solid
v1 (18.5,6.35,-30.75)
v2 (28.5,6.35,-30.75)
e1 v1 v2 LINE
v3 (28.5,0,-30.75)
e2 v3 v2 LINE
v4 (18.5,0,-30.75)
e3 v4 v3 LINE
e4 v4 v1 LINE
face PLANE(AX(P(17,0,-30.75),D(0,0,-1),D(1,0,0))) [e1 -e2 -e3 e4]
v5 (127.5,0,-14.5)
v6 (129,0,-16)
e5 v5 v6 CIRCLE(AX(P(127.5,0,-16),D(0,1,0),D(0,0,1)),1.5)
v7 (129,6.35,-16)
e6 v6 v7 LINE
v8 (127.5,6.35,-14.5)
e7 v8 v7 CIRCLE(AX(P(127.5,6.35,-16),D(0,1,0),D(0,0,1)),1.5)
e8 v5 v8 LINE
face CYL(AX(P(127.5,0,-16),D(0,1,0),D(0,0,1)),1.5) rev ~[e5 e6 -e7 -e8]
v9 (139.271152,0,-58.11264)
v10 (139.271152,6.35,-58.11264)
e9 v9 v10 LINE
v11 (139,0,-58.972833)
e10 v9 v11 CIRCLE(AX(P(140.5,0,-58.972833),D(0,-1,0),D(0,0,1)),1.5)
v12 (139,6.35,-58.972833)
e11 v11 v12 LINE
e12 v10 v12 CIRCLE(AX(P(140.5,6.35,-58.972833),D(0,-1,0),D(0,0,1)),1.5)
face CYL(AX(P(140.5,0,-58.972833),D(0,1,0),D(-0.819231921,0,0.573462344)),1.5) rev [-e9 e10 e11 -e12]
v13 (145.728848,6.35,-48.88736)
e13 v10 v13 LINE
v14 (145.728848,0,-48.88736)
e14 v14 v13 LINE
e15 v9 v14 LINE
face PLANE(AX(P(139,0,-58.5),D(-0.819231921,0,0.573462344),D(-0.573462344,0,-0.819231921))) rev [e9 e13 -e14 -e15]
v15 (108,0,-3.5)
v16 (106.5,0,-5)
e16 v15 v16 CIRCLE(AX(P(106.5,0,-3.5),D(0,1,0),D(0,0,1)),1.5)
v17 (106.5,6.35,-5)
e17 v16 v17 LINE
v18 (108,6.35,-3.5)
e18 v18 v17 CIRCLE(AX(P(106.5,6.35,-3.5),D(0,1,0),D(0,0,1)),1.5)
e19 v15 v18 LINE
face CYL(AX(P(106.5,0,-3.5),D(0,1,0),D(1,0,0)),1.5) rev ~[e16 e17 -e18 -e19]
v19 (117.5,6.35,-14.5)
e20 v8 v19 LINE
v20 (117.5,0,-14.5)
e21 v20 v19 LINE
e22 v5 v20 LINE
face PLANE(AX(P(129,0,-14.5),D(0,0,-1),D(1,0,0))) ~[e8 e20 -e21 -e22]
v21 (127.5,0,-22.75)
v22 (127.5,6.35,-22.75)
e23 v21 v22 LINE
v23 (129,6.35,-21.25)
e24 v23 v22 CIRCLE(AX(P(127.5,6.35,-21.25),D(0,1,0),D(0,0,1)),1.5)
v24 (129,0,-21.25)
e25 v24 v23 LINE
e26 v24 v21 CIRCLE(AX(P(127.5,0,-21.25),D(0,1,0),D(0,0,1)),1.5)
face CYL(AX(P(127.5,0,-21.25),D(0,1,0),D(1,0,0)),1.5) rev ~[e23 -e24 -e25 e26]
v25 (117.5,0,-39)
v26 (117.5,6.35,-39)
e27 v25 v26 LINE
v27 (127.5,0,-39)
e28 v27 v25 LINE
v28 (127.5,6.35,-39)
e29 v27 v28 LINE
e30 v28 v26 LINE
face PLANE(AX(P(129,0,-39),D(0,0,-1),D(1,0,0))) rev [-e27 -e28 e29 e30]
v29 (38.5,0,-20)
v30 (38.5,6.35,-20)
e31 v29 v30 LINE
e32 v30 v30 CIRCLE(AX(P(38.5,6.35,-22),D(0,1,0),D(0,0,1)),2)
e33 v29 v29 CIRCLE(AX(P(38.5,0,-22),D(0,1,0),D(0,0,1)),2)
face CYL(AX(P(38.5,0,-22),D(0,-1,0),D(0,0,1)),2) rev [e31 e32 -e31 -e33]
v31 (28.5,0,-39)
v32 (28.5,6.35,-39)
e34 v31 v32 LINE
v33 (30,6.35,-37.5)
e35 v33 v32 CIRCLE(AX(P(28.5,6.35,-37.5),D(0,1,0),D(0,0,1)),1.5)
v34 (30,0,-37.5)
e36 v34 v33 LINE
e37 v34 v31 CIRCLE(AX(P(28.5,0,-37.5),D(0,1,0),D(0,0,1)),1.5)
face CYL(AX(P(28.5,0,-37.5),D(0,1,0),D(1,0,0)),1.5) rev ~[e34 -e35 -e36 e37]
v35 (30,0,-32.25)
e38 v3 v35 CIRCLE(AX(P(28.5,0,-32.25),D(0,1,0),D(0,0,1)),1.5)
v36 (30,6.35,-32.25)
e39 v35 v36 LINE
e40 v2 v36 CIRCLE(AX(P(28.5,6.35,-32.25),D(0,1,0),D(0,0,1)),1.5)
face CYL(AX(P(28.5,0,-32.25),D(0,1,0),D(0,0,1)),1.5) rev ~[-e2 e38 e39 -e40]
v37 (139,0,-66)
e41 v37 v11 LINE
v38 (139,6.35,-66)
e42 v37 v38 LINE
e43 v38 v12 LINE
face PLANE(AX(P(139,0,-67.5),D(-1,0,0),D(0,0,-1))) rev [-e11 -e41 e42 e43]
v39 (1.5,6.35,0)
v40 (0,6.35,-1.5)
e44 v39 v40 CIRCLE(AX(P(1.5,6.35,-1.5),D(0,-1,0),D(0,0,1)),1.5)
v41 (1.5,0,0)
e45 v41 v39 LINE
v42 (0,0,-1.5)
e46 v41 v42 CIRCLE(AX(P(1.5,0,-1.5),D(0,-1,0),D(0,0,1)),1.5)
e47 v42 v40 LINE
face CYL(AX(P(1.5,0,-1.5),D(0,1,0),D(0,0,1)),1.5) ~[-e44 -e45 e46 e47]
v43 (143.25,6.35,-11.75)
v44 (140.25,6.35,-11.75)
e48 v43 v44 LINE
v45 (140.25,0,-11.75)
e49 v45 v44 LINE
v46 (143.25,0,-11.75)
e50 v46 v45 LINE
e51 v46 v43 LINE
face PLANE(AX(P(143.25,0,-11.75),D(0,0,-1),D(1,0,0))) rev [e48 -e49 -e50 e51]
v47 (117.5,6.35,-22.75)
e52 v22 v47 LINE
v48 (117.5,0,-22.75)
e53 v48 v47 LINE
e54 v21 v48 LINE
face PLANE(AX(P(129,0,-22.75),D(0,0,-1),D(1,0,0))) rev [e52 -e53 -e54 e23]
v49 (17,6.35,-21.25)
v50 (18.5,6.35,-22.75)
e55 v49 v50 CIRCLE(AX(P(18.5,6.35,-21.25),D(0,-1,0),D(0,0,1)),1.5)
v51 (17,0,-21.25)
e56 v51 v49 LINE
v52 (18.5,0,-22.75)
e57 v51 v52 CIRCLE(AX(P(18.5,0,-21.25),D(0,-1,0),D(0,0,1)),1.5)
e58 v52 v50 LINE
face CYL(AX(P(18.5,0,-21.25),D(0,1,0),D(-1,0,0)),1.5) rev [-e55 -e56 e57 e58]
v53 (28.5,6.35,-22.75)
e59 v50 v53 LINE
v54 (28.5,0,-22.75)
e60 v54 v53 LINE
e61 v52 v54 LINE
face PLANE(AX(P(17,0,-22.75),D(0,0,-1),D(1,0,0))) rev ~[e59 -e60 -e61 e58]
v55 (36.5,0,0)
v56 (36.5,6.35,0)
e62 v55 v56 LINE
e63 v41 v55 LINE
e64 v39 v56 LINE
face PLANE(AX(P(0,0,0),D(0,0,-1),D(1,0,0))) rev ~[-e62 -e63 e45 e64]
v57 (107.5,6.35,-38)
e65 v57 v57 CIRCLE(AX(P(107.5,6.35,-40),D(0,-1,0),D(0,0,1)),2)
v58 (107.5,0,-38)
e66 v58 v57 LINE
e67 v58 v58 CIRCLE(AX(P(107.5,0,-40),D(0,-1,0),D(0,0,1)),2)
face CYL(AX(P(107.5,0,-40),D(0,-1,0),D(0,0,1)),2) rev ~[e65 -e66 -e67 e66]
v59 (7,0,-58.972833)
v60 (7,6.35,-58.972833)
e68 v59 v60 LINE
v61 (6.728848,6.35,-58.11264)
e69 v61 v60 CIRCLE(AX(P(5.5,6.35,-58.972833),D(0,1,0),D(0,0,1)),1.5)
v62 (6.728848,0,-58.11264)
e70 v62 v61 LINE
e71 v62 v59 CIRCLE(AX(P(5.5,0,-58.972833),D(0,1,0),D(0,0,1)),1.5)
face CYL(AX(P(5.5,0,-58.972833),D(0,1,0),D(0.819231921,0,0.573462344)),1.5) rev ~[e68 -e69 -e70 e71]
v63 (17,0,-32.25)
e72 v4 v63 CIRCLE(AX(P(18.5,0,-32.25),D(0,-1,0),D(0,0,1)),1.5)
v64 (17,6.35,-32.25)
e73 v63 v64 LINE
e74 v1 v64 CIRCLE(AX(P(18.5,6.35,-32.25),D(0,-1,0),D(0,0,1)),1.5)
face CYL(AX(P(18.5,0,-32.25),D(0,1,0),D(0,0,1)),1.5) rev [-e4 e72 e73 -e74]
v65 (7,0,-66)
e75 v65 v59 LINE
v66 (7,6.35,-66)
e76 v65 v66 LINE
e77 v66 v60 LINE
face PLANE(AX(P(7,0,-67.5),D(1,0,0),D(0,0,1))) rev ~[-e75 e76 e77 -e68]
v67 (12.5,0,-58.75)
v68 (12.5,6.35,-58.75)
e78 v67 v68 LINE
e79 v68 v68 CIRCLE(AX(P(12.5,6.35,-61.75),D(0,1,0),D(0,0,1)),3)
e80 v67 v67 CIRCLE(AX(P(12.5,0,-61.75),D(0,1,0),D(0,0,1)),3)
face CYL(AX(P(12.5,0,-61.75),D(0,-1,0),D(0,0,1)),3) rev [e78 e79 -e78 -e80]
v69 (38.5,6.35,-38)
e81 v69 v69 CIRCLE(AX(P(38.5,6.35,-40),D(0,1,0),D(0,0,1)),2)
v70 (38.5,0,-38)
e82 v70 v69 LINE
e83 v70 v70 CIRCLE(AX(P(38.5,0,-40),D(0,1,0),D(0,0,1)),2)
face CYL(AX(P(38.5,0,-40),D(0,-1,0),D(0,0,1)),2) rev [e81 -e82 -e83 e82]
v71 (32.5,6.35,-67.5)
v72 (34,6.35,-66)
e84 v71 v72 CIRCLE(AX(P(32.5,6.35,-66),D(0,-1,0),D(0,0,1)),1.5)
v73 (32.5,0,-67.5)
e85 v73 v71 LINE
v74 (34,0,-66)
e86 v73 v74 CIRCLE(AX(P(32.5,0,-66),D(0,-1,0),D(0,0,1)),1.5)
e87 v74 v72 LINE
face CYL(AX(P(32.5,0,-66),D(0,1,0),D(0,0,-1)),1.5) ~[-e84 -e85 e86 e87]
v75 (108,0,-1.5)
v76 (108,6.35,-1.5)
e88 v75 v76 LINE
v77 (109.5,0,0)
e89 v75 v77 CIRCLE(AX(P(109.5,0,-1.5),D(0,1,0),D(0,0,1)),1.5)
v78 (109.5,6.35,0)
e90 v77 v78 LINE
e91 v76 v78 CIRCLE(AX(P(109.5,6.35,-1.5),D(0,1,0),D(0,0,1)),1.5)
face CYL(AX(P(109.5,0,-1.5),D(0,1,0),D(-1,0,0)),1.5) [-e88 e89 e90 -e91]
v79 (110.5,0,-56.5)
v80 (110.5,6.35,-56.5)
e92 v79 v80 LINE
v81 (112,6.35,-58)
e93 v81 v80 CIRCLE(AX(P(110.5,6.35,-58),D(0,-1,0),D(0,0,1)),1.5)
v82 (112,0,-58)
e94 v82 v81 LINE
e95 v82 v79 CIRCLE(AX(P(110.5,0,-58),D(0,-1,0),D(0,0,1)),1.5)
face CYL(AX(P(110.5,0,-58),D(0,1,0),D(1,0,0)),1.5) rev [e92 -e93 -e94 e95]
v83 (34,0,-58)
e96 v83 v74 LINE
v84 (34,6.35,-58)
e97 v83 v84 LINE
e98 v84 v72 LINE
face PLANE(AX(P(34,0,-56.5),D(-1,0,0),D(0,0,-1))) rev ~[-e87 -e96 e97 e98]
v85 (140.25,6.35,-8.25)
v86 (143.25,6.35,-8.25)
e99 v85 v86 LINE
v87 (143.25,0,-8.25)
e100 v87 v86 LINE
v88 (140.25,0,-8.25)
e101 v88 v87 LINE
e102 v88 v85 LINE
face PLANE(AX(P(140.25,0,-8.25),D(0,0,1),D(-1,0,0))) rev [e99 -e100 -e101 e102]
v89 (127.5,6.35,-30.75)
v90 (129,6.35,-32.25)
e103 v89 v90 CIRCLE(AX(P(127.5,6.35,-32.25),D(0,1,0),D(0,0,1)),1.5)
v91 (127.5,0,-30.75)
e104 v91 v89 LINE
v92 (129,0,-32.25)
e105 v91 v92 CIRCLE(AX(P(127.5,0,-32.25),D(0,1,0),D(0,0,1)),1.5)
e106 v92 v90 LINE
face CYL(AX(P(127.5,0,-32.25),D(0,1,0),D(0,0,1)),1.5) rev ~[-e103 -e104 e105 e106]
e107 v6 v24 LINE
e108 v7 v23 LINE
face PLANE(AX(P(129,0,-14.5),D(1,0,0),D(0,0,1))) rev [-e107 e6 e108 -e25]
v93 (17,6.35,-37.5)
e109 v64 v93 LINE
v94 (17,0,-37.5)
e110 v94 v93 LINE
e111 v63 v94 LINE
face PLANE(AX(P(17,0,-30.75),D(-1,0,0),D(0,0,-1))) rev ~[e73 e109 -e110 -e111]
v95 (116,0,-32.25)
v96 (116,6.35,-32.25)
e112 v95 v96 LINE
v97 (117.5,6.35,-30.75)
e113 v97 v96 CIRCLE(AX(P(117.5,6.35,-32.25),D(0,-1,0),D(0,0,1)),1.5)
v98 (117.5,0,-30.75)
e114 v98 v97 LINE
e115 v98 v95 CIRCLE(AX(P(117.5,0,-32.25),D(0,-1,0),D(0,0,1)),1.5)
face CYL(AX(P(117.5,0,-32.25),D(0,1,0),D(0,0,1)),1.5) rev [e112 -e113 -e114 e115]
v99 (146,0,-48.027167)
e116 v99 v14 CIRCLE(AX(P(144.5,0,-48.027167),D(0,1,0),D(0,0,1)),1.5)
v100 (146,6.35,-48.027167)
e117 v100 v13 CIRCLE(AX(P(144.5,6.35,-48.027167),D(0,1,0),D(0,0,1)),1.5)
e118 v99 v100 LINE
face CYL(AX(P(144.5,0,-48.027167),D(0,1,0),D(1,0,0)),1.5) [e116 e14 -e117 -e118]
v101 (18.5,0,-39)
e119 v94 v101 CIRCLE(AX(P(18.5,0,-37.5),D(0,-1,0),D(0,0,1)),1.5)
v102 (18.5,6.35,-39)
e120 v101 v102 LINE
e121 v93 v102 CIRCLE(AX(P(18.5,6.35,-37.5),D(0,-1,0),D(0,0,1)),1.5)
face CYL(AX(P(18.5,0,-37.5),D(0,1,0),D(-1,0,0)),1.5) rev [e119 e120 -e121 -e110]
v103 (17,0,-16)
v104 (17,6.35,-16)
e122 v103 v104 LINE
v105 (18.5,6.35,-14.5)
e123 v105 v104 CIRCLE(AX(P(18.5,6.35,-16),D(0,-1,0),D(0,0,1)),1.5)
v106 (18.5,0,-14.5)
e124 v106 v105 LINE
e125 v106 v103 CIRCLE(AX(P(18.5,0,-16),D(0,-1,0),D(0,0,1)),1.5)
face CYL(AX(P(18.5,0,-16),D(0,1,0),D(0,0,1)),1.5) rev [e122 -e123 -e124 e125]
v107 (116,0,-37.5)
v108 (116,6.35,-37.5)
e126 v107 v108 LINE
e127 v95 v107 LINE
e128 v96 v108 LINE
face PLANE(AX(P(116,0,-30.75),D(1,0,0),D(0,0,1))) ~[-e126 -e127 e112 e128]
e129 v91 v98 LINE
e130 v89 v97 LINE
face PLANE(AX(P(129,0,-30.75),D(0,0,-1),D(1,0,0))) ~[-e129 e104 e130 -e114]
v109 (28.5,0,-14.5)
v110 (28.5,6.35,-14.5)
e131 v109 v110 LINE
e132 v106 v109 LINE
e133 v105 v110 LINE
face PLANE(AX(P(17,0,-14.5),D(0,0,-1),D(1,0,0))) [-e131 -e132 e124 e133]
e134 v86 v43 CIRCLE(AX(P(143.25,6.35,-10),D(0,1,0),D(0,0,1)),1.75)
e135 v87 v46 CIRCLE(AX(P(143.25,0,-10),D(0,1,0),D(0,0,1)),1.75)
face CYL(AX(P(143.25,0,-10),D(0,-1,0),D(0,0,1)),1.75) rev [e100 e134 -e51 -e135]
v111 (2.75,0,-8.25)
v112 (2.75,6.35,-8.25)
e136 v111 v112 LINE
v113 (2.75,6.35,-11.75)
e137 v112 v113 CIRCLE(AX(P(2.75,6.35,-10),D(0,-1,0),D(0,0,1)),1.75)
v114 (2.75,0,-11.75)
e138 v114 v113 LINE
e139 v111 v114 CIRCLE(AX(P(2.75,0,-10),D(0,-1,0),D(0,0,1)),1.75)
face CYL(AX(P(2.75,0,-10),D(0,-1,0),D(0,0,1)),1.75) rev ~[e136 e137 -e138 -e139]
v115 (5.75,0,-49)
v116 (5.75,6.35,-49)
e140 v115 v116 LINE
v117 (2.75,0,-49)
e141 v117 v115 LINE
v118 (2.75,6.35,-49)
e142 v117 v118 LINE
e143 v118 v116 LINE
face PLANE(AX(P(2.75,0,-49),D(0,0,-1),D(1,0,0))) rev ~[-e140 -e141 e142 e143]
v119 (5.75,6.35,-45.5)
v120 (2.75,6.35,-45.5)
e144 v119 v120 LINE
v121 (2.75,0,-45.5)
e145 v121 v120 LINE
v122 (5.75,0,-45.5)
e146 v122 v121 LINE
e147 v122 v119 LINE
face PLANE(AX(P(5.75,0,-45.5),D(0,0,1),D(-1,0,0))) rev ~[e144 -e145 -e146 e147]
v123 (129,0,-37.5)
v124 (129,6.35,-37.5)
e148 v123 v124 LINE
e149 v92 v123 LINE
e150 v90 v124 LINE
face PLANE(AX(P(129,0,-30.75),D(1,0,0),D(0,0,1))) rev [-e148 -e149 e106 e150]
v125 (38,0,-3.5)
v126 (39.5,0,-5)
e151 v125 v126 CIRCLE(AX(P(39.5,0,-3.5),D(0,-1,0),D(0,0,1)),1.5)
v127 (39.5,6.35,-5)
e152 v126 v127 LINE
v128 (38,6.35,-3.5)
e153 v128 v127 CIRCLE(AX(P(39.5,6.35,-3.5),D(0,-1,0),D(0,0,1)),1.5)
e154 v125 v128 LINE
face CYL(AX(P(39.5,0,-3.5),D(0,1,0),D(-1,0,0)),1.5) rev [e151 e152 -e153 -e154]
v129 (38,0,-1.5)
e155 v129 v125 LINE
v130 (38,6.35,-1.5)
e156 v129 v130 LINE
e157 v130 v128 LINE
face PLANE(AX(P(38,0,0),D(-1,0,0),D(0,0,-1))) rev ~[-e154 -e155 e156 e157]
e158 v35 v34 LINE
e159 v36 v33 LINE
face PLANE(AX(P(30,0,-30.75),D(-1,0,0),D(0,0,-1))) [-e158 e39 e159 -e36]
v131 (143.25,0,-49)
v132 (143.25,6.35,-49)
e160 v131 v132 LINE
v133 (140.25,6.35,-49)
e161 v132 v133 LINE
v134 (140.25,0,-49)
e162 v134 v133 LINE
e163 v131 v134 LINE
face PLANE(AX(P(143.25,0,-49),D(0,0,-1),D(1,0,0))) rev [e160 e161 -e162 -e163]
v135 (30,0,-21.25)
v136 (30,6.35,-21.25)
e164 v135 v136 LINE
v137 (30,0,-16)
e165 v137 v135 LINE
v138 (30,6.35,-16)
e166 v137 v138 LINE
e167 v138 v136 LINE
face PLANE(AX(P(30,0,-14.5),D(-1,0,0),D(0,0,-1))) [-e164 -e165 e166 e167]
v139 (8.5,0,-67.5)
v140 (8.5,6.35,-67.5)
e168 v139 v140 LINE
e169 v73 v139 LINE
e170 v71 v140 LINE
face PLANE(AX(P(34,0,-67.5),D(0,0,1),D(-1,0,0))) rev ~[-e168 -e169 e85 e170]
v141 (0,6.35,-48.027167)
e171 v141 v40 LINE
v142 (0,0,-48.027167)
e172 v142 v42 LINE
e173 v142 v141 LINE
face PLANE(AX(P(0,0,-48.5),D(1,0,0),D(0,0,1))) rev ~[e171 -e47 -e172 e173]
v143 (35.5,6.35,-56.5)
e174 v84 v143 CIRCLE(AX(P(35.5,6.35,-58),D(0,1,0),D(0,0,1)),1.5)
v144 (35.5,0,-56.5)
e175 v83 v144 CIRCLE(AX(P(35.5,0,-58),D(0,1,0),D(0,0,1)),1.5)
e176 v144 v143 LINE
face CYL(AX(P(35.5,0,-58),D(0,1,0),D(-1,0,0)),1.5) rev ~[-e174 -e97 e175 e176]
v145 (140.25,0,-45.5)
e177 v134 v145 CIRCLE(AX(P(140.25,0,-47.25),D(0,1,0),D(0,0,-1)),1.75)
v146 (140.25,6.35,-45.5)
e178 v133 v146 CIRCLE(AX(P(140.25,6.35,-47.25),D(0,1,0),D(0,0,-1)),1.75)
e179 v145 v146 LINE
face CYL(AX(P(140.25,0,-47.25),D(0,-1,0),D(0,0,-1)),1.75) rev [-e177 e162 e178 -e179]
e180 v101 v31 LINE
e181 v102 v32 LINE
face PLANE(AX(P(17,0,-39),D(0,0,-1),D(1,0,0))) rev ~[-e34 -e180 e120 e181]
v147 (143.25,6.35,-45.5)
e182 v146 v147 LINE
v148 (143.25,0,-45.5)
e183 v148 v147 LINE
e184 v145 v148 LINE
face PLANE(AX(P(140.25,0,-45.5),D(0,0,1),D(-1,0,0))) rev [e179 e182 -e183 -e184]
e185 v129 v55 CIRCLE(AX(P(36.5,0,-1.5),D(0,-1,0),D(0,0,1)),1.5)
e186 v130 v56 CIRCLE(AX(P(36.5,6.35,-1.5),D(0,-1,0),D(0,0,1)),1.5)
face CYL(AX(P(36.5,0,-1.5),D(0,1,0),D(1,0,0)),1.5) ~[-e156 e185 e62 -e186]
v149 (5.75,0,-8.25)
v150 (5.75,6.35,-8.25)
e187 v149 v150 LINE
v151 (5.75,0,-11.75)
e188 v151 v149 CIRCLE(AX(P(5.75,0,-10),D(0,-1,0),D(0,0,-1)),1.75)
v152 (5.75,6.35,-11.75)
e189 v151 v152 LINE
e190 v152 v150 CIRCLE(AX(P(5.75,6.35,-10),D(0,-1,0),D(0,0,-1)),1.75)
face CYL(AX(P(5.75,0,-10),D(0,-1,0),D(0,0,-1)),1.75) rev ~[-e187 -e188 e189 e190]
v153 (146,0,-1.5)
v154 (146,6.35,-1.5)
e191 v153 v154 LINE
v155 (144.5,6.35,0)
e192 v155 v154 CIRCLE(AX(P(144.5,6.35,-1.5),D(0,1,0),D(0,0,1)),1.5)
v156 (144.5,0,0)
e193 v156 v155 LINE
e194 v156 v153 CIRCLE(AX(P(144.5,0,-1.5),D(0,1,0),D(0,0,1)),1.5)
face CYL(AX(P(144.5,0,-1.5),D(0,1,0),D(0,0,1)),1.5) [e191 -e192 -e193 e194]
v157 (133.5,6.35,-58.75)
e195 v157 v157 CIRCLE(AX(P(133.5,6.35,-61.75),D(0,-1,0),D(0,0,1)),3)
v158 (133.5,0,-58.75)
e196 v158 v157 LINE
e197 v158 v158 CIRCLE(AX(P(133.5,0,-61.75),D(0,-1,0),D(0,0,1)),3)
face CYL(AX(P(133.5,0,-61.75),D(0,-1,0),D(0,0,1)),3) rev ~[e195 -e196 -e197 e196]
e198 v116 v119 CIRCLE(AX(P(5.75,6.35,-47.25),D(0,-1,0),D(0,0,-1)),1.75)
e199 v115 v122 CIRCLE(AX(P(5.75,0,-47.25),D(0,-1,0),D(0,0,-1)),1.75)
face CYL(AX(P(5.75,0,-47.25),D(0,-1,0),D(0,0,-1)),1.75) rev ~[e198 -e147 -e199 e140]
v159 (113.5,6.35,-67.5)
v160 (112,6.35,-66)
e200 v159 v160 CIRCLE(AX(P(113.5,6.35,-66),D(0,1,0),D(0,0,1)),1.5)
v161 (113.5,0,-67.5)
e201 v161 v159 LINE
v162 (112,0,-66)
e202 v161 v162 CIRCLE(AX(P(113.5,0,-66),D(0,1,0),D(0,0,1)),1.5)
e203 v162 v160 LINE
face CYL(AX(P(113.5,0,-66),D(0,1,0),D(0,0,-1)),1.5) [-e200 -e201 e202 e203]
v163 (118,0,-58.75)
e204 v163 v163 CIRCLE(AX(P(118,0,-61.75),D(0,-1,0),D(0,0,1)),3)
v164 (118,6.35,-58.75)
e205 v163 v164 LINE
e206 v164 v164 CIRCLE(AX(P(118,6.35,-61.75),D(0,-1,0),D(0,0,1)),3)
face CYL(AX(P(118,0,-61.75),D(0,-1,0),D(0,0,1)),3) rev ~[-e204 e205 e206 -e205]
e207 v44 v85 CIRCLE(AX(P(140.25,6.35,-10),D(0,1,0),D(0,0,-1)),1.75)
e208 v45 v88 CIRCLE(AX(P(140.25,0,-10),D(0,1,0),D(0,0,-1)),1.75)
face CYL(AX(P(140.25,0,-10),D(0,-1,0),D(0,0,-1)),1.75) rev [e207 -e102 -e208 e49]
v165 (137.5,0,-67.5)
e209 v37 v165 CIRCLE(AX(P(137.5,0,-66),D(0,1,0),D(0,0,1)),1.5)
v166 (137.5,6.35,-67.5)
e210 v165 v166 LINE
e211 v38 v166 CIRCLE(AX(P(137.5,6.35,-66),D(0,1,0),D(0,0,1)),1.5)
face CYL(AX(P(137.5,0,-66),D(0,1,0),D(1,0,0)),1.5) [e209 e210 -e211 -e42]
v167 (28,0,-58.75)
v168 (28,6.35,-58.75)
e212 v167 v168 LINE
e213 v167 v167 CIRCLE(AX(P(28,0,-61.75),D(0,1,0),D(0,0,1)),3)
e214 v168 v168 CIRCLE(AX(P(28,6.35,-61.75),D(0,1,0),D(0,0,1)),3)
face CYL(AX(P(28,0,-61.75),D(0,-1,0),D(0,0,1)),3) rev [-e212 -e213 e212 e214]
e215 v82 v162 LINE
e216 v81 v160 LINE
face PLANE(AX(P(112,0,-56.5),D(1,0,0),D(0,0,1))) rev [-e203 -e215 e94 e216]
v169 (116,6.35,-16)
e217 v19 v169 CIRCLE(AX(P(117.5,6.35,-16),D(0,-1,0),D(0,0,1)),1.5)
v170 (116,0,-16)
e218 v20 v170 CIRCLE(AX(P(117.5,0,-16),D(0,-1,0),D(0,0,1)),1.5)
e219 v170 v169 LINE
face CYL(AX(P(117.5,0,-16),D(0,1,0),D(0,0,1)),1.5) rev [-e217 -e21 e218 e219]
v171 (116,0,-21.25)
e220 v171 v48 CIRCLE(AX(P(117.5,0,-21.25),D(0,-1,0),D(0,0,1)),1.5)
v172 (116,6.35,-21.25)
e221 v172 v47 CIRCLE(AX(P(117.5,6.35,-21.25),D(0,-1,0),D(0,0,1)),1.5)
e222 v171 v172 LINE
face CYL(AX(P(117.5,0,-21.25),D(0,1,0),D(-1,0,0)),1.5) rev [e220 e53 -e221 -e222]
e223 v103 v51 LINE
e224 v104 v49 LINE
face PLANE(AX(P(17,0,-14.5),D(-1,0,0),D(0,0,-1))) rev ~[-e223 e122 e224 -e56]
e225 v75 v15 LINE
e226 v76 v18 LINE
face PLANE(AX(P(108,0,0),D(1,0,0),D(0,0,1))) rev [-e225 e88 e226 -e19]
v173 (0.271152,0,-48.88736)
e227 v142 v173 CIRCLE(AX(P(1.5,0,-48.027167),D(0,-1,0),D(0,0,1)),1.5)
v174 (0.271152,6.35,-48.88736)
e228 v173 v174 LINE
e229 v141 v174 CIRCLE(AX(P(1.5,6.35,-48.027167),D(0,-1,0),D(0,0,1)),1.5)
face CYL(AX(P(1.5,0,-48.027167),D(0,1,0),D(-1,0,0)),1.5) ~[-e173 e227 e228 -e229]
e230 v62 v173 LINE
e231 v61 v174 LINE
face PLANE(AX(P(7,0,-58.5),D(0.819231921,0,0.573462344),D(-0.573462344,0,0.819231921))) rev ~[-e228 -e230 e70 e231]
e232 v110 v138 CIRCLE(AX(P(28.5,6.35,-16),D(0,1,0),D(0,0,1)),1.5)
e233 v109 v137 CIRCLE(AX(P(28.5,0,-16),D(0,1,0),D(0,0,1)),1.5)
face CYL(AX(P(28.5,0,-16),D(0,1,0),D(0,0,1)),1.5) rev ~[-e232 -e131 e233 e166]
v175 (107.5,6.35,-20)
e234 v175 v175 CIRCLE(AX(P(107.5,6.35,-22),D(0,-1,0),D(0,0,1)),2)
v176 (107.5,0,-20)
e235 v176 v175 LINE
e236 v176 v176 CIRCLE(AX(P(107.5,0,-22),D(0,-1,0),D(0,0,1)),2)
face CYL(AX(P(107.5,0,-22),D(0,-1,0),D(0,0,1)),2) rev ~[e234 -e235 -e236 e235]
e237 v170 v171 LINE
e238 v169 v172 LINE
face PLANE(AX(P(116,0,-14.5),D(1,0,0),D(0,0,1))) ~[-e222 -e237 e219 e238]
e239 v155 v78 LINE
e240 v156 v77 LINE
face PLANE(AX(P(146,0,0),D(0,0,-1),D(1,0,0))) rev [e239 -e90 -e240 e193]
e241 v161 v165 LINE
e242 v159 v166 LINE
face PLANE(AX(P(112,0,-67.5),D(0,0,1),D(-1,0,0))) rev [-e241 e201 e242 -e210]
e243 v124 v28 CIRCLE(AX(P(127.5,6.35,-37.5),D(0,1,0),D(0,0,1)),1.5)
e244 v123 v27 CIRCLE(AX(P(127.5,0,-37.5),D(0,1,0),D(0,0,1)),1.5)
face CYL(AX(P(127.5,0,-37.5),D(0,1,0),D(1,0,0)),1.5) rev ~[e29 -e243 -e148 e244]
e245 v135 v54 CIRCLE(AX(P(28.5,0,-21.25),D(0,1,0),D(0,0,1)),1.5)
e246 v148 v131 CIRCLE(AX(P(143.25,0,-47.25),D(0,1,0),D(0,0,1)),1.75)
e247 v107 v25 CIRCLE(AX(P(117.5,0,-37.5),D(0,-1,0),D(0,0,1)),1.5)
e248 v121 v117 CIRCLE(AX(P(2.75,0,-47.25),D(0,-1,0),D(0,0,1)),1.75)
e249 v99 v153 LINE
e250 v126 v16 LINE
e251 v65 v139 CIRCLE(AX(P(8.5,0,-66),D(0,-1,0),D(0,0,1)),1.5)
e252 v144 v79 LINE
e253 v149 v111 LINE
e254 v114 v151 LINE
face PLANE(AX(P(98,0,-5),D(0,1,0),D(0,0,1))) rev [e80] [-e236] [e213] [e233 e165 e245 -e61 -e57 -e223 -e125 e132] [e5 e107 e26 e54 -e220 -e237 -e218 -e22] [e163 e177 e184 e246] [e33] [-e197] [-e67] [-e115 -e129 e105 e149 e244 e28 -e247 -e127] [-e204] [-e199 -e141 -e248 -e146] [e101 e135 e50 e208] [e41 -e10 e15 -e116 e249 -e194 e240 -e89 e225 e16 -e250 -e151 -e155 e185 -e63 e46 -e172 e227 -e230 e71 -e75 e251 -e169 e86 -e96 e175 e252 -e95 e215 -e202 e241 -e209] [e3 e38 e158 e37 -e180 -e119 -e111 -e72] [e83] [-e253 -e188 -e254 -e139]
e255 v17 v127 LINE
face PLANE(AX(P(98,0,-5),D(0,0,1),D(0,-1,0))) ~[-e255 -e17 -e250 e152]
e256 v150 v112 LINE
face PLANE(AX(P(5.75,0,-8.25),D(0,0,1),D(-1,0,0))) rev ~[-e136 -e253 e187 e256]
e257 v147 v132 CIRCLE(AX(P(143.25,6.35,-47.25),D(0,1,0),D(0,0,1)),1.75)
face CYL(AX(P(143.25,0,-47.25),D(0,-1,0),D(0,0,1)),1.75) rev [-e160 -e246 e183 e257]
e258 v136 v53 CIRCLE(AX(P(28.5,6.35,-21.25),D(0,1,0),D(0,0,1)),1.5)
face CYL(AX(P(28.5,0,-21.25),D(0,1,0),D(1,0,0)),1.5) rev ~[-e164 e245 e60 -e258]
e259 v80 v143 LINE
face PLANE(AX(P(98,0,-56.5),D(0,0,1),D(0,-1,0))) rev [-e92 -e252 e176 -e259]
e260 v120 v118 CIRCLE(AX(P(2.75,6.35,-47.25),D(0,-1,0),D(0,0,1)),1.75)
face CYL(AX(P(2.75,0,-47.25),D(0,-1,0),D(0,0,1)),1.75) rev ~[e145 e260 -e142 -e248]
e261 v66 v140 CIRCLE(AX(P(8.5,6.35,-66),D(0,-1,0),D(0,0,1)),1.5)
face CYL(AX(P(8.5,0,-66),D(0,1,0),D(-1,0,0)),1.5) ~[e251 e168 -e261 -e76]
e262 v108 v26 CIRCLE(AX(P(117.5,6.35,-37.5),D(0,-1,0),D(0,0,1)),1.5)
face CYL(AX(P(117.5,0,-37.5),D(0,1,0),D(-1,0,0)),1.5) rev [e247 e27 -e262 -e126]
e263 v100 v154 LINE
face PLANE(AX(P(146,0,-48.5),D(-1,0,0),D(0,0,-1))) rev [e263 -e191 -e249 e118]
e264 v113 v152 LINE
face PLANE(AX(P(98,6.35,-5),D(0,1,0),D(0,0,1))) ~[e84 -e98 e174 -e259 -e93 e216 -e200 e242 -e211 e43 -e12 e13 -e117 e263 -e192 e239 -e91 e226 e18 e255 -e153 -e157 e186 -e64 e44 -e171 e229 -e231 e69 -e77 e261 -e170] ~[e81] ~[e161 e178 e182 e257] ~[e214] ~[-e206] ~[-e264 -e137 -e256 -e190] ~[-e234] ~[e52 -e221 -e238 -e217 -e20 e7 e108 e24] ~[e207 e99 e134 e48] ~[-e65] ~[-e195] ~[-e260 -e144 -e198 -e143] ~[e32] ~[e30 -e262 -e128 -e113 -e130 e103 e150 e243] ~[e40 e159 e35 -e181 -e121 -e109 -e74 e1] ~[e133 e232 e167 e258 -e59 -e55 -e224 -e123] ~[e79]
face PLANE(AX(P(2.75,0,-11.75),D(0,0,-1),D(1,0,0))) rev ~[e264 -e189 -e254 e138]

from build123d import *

# Parameters (mm, degrees)
SKETCH1_R           = 2
SKETCH1_R_2         = 3
SKETCH1_W           = 13
SKETCH1_H           = 8.25
BOSS_EXTRUDE1_DEPTH = 6.35
FILLET1_R           = 1.5
SKETCH2_W           = 82.327825706
SKETCH2_H           = 14.458254131
CUT_EXTRUDE1_DEPTH  = 51
SKETCH3_W           = 51.5
SKETCH3_H           = 6.35
BOSS_EXTRUDE2_DEPTH = 25


with BuildPart() as part:
    # Sketch1 → Boss-Extrude1 (new body)
    with BuildSketch(Plane(origin=(0, 0, 0), x_dir=(1, 0, 0), z_dir=(0, 1, 0))):
        Polygon((38, 0), (38, 5), (58, 5), (58, 0), (96, 0), (96, 48.5), (89, 58.5), (89, 67.5), (62, 67.5), (62, 56.5), (34, 56.5), (34, 67.5), (7, 67.5), (7, 58.5), (0, 48.5), (0, 0), align=None)
        with Locations(Location((38.5, 40, 0), (0, 0, 270))):
            Circle(SKETCH1_R, mode=Mode.SUBTRACT)
        with Locations(Location((38.5, 22, 0), (0, 0, 270))):
            Circle(SKETCH1_R, mode=Mode.SUBTRACT)
        with Locations(Location((57.5, 22, 0), (0, 0, 90))):
            Circle(SKETCH1_R, mode=Mode.SUBTRACT)
        with Locations(Location((57.5, 40, 0), (0, 0, 90))):
            Circle(SKETCH1_R, mode=Mode.SUBTRACT)
        with Locations(Location((12.5, 61.75, 0), (0, 0, 270))):
            Circle(SKETCH1_R_2, mode=Mode.SUBTRACT)
        with Locations(Location((28, 61.75, 0), (0, 0, 270))):
            Circle(SKETCH1_R_2, mode=Mode.SUBTRACT)
        with Locations(Location((68, 61.75, 0), (0, 0, 90))):
            Circle(SKETCH1_R_2, mode=Mode.SUBTRACT)
        with Locations(Location((83.5, 61.75, 0), (0, 0, 90))):
            Circle(SKETCH1_R_2, mode=Mode.SUBTRACT)
        with Locations((72.5, 18.625)):
            Rectangle(SKETCH1_W, SKETCH1_H, mode=Mode.SUBTRACT)
        with Locations((23.5, 34.875)):
            Rectangle(SKETCH1_W, SKETCH1_H, mode=Mode.SUBTRACT)
        with Locations((23.5, 18.625)):
            Rectangle(SKETCH1_W, SKETCH1_H, mode=Mode.SUBTRACT)
        with Locations((72.5, 34.875)):
            Rectangle(SKETCH1_W, SKETCH1_H, mode=Mode.SUBTRACT)
        with BuildLine():
            Line((2.75, 11.75), (5.75, 11.75))
            ThreePointArc((5.75, 11.75), (7.5, 10), (5.75, 8.25))
            Line((5.75, 8.25), (2.75, 8.25))
            ThreePointArc((2.75, 8.25), (1, 10), (2.75, 11.75))
        make_face(mode=Mode.SUBTRACT)
        with BuildLine():
            Line((93.25, 8.25), (90.25, 8.25))
            ThreePointArc((90.25, 8.25), (88.5, 10), (90.25, 11.75))
            Line((90.25, 11.75), (93.25, 11.75))
            ThreePointArc((93.25, 11.75), (95, 10), (93.25, 8.25))
        make_face(mode=Mode.SUBTRACT)
        with BuildLine():
            Line((93.25, 45.5), (90.25, 45.5))
            ThreePointArc((90.25, 45.5), (88.5, 47.25), (90.25, 49))
            Line((90.25, 49), (93.25, 49))
            ThreePointArc((93.25, 49), (95, 47.25), (93.25, 45.5))
        make_face(mode=Mode.SUBTRACT)
        with BuildLine():
            Line((2.75, 49), (5.75, 49))
            ThreePointArc((5.75, 49), (7.5, 47.25), (5.75, 45.5))
            Line((5.75, 45.5), (2.75, 45.5))
            ThreePointArc((2.75, 45.5), (1, 47.25), (2.75, 49))
        make_face(mode=Mode.SUBTRACT)
    extrude(amount=BOSS_EXTRUDE1_DEPTH)

    # Fillet1
    fillet1_edges = [part.edges().sort_by_distance(p)[0] for p in [
        (0, 3.175, -48.5),
        (7, 3.175, -58.5),
        (7, 3.175, -67.5),
        (34, 3.175, -67.5),
        (34, 3.175, -56.5),
        (62, 3.175, -56.5),
        (62, 3.175, -67.5),
        (89, 3.175, -67.5),
        (89, 3.175, -58.5),
        (96, 3.175, -48.5),
        (96, 3.175, 0),
        (58, 3.175, 0),
        (58, 3.175, -5),
        (38, 3.175, -5),
        (38, 3.175, 0),
        (0, 3.175, 0),
        (17, 3.175, -39),
        (17, 3.175, -30.75),
        (30, 3.175, -30.75),
        (30, 3.175, -39),
        (17, 3.175, -22.75),
        (17, 3.175, -14.5),
        (30, 3.175, -14.5),
        (30, 3.175, -22.75),
        (79, 3.175, -14.5),
        (79, 3.175, -22.75),
        (66, 3.175, -22.75),
        (66, 3.175, -14.5),
        (79, 3.175, -30.75),
        (79, 3.175, -39),
        (66, 3.175, -39),
        (66, 3.175, -30.75),
    ]]
    fillet(fillet1_edges, radius=FILLET1_R)

    # Sketch2 → Cut-Extrude1 (cut)
    with BuildSketch(Plane(origin=(48, 0, 0), x_dir=(0, 0, -1), z_dir=(1, 0, 0))):
        with Locations((33.293792952, 1.315835649)):
            Rectangle(SKETCH2_W, SKETCH2_H)
    extrude(amount=CUT_EXTRUDE1_DEPTH, mode=Mode.SUBTRACT)

    # Sketch3 → Boss-Extrude2 (add)
    with BuildSketch(Plane(origin=(48, 0, 0), x_dir=(0, 0, -1), z_dir=(1, 0, 0))):
        with Locations((30.75, 3.175)):
            Rectangle(SKETCH3_W, SKETCH3_H)
    extrude(amount=BOSS_EXTRUDE2_DEPTH)

    # Mirror1: part across plane


with BuildPart() as part_1:
    add(part.part)
    add(part.part.mirror(Plane(origin=(73, 0, 0), x_dir=(0, 0, 1), z_dir=(1, 0, 0))))


solid = part_1.part
